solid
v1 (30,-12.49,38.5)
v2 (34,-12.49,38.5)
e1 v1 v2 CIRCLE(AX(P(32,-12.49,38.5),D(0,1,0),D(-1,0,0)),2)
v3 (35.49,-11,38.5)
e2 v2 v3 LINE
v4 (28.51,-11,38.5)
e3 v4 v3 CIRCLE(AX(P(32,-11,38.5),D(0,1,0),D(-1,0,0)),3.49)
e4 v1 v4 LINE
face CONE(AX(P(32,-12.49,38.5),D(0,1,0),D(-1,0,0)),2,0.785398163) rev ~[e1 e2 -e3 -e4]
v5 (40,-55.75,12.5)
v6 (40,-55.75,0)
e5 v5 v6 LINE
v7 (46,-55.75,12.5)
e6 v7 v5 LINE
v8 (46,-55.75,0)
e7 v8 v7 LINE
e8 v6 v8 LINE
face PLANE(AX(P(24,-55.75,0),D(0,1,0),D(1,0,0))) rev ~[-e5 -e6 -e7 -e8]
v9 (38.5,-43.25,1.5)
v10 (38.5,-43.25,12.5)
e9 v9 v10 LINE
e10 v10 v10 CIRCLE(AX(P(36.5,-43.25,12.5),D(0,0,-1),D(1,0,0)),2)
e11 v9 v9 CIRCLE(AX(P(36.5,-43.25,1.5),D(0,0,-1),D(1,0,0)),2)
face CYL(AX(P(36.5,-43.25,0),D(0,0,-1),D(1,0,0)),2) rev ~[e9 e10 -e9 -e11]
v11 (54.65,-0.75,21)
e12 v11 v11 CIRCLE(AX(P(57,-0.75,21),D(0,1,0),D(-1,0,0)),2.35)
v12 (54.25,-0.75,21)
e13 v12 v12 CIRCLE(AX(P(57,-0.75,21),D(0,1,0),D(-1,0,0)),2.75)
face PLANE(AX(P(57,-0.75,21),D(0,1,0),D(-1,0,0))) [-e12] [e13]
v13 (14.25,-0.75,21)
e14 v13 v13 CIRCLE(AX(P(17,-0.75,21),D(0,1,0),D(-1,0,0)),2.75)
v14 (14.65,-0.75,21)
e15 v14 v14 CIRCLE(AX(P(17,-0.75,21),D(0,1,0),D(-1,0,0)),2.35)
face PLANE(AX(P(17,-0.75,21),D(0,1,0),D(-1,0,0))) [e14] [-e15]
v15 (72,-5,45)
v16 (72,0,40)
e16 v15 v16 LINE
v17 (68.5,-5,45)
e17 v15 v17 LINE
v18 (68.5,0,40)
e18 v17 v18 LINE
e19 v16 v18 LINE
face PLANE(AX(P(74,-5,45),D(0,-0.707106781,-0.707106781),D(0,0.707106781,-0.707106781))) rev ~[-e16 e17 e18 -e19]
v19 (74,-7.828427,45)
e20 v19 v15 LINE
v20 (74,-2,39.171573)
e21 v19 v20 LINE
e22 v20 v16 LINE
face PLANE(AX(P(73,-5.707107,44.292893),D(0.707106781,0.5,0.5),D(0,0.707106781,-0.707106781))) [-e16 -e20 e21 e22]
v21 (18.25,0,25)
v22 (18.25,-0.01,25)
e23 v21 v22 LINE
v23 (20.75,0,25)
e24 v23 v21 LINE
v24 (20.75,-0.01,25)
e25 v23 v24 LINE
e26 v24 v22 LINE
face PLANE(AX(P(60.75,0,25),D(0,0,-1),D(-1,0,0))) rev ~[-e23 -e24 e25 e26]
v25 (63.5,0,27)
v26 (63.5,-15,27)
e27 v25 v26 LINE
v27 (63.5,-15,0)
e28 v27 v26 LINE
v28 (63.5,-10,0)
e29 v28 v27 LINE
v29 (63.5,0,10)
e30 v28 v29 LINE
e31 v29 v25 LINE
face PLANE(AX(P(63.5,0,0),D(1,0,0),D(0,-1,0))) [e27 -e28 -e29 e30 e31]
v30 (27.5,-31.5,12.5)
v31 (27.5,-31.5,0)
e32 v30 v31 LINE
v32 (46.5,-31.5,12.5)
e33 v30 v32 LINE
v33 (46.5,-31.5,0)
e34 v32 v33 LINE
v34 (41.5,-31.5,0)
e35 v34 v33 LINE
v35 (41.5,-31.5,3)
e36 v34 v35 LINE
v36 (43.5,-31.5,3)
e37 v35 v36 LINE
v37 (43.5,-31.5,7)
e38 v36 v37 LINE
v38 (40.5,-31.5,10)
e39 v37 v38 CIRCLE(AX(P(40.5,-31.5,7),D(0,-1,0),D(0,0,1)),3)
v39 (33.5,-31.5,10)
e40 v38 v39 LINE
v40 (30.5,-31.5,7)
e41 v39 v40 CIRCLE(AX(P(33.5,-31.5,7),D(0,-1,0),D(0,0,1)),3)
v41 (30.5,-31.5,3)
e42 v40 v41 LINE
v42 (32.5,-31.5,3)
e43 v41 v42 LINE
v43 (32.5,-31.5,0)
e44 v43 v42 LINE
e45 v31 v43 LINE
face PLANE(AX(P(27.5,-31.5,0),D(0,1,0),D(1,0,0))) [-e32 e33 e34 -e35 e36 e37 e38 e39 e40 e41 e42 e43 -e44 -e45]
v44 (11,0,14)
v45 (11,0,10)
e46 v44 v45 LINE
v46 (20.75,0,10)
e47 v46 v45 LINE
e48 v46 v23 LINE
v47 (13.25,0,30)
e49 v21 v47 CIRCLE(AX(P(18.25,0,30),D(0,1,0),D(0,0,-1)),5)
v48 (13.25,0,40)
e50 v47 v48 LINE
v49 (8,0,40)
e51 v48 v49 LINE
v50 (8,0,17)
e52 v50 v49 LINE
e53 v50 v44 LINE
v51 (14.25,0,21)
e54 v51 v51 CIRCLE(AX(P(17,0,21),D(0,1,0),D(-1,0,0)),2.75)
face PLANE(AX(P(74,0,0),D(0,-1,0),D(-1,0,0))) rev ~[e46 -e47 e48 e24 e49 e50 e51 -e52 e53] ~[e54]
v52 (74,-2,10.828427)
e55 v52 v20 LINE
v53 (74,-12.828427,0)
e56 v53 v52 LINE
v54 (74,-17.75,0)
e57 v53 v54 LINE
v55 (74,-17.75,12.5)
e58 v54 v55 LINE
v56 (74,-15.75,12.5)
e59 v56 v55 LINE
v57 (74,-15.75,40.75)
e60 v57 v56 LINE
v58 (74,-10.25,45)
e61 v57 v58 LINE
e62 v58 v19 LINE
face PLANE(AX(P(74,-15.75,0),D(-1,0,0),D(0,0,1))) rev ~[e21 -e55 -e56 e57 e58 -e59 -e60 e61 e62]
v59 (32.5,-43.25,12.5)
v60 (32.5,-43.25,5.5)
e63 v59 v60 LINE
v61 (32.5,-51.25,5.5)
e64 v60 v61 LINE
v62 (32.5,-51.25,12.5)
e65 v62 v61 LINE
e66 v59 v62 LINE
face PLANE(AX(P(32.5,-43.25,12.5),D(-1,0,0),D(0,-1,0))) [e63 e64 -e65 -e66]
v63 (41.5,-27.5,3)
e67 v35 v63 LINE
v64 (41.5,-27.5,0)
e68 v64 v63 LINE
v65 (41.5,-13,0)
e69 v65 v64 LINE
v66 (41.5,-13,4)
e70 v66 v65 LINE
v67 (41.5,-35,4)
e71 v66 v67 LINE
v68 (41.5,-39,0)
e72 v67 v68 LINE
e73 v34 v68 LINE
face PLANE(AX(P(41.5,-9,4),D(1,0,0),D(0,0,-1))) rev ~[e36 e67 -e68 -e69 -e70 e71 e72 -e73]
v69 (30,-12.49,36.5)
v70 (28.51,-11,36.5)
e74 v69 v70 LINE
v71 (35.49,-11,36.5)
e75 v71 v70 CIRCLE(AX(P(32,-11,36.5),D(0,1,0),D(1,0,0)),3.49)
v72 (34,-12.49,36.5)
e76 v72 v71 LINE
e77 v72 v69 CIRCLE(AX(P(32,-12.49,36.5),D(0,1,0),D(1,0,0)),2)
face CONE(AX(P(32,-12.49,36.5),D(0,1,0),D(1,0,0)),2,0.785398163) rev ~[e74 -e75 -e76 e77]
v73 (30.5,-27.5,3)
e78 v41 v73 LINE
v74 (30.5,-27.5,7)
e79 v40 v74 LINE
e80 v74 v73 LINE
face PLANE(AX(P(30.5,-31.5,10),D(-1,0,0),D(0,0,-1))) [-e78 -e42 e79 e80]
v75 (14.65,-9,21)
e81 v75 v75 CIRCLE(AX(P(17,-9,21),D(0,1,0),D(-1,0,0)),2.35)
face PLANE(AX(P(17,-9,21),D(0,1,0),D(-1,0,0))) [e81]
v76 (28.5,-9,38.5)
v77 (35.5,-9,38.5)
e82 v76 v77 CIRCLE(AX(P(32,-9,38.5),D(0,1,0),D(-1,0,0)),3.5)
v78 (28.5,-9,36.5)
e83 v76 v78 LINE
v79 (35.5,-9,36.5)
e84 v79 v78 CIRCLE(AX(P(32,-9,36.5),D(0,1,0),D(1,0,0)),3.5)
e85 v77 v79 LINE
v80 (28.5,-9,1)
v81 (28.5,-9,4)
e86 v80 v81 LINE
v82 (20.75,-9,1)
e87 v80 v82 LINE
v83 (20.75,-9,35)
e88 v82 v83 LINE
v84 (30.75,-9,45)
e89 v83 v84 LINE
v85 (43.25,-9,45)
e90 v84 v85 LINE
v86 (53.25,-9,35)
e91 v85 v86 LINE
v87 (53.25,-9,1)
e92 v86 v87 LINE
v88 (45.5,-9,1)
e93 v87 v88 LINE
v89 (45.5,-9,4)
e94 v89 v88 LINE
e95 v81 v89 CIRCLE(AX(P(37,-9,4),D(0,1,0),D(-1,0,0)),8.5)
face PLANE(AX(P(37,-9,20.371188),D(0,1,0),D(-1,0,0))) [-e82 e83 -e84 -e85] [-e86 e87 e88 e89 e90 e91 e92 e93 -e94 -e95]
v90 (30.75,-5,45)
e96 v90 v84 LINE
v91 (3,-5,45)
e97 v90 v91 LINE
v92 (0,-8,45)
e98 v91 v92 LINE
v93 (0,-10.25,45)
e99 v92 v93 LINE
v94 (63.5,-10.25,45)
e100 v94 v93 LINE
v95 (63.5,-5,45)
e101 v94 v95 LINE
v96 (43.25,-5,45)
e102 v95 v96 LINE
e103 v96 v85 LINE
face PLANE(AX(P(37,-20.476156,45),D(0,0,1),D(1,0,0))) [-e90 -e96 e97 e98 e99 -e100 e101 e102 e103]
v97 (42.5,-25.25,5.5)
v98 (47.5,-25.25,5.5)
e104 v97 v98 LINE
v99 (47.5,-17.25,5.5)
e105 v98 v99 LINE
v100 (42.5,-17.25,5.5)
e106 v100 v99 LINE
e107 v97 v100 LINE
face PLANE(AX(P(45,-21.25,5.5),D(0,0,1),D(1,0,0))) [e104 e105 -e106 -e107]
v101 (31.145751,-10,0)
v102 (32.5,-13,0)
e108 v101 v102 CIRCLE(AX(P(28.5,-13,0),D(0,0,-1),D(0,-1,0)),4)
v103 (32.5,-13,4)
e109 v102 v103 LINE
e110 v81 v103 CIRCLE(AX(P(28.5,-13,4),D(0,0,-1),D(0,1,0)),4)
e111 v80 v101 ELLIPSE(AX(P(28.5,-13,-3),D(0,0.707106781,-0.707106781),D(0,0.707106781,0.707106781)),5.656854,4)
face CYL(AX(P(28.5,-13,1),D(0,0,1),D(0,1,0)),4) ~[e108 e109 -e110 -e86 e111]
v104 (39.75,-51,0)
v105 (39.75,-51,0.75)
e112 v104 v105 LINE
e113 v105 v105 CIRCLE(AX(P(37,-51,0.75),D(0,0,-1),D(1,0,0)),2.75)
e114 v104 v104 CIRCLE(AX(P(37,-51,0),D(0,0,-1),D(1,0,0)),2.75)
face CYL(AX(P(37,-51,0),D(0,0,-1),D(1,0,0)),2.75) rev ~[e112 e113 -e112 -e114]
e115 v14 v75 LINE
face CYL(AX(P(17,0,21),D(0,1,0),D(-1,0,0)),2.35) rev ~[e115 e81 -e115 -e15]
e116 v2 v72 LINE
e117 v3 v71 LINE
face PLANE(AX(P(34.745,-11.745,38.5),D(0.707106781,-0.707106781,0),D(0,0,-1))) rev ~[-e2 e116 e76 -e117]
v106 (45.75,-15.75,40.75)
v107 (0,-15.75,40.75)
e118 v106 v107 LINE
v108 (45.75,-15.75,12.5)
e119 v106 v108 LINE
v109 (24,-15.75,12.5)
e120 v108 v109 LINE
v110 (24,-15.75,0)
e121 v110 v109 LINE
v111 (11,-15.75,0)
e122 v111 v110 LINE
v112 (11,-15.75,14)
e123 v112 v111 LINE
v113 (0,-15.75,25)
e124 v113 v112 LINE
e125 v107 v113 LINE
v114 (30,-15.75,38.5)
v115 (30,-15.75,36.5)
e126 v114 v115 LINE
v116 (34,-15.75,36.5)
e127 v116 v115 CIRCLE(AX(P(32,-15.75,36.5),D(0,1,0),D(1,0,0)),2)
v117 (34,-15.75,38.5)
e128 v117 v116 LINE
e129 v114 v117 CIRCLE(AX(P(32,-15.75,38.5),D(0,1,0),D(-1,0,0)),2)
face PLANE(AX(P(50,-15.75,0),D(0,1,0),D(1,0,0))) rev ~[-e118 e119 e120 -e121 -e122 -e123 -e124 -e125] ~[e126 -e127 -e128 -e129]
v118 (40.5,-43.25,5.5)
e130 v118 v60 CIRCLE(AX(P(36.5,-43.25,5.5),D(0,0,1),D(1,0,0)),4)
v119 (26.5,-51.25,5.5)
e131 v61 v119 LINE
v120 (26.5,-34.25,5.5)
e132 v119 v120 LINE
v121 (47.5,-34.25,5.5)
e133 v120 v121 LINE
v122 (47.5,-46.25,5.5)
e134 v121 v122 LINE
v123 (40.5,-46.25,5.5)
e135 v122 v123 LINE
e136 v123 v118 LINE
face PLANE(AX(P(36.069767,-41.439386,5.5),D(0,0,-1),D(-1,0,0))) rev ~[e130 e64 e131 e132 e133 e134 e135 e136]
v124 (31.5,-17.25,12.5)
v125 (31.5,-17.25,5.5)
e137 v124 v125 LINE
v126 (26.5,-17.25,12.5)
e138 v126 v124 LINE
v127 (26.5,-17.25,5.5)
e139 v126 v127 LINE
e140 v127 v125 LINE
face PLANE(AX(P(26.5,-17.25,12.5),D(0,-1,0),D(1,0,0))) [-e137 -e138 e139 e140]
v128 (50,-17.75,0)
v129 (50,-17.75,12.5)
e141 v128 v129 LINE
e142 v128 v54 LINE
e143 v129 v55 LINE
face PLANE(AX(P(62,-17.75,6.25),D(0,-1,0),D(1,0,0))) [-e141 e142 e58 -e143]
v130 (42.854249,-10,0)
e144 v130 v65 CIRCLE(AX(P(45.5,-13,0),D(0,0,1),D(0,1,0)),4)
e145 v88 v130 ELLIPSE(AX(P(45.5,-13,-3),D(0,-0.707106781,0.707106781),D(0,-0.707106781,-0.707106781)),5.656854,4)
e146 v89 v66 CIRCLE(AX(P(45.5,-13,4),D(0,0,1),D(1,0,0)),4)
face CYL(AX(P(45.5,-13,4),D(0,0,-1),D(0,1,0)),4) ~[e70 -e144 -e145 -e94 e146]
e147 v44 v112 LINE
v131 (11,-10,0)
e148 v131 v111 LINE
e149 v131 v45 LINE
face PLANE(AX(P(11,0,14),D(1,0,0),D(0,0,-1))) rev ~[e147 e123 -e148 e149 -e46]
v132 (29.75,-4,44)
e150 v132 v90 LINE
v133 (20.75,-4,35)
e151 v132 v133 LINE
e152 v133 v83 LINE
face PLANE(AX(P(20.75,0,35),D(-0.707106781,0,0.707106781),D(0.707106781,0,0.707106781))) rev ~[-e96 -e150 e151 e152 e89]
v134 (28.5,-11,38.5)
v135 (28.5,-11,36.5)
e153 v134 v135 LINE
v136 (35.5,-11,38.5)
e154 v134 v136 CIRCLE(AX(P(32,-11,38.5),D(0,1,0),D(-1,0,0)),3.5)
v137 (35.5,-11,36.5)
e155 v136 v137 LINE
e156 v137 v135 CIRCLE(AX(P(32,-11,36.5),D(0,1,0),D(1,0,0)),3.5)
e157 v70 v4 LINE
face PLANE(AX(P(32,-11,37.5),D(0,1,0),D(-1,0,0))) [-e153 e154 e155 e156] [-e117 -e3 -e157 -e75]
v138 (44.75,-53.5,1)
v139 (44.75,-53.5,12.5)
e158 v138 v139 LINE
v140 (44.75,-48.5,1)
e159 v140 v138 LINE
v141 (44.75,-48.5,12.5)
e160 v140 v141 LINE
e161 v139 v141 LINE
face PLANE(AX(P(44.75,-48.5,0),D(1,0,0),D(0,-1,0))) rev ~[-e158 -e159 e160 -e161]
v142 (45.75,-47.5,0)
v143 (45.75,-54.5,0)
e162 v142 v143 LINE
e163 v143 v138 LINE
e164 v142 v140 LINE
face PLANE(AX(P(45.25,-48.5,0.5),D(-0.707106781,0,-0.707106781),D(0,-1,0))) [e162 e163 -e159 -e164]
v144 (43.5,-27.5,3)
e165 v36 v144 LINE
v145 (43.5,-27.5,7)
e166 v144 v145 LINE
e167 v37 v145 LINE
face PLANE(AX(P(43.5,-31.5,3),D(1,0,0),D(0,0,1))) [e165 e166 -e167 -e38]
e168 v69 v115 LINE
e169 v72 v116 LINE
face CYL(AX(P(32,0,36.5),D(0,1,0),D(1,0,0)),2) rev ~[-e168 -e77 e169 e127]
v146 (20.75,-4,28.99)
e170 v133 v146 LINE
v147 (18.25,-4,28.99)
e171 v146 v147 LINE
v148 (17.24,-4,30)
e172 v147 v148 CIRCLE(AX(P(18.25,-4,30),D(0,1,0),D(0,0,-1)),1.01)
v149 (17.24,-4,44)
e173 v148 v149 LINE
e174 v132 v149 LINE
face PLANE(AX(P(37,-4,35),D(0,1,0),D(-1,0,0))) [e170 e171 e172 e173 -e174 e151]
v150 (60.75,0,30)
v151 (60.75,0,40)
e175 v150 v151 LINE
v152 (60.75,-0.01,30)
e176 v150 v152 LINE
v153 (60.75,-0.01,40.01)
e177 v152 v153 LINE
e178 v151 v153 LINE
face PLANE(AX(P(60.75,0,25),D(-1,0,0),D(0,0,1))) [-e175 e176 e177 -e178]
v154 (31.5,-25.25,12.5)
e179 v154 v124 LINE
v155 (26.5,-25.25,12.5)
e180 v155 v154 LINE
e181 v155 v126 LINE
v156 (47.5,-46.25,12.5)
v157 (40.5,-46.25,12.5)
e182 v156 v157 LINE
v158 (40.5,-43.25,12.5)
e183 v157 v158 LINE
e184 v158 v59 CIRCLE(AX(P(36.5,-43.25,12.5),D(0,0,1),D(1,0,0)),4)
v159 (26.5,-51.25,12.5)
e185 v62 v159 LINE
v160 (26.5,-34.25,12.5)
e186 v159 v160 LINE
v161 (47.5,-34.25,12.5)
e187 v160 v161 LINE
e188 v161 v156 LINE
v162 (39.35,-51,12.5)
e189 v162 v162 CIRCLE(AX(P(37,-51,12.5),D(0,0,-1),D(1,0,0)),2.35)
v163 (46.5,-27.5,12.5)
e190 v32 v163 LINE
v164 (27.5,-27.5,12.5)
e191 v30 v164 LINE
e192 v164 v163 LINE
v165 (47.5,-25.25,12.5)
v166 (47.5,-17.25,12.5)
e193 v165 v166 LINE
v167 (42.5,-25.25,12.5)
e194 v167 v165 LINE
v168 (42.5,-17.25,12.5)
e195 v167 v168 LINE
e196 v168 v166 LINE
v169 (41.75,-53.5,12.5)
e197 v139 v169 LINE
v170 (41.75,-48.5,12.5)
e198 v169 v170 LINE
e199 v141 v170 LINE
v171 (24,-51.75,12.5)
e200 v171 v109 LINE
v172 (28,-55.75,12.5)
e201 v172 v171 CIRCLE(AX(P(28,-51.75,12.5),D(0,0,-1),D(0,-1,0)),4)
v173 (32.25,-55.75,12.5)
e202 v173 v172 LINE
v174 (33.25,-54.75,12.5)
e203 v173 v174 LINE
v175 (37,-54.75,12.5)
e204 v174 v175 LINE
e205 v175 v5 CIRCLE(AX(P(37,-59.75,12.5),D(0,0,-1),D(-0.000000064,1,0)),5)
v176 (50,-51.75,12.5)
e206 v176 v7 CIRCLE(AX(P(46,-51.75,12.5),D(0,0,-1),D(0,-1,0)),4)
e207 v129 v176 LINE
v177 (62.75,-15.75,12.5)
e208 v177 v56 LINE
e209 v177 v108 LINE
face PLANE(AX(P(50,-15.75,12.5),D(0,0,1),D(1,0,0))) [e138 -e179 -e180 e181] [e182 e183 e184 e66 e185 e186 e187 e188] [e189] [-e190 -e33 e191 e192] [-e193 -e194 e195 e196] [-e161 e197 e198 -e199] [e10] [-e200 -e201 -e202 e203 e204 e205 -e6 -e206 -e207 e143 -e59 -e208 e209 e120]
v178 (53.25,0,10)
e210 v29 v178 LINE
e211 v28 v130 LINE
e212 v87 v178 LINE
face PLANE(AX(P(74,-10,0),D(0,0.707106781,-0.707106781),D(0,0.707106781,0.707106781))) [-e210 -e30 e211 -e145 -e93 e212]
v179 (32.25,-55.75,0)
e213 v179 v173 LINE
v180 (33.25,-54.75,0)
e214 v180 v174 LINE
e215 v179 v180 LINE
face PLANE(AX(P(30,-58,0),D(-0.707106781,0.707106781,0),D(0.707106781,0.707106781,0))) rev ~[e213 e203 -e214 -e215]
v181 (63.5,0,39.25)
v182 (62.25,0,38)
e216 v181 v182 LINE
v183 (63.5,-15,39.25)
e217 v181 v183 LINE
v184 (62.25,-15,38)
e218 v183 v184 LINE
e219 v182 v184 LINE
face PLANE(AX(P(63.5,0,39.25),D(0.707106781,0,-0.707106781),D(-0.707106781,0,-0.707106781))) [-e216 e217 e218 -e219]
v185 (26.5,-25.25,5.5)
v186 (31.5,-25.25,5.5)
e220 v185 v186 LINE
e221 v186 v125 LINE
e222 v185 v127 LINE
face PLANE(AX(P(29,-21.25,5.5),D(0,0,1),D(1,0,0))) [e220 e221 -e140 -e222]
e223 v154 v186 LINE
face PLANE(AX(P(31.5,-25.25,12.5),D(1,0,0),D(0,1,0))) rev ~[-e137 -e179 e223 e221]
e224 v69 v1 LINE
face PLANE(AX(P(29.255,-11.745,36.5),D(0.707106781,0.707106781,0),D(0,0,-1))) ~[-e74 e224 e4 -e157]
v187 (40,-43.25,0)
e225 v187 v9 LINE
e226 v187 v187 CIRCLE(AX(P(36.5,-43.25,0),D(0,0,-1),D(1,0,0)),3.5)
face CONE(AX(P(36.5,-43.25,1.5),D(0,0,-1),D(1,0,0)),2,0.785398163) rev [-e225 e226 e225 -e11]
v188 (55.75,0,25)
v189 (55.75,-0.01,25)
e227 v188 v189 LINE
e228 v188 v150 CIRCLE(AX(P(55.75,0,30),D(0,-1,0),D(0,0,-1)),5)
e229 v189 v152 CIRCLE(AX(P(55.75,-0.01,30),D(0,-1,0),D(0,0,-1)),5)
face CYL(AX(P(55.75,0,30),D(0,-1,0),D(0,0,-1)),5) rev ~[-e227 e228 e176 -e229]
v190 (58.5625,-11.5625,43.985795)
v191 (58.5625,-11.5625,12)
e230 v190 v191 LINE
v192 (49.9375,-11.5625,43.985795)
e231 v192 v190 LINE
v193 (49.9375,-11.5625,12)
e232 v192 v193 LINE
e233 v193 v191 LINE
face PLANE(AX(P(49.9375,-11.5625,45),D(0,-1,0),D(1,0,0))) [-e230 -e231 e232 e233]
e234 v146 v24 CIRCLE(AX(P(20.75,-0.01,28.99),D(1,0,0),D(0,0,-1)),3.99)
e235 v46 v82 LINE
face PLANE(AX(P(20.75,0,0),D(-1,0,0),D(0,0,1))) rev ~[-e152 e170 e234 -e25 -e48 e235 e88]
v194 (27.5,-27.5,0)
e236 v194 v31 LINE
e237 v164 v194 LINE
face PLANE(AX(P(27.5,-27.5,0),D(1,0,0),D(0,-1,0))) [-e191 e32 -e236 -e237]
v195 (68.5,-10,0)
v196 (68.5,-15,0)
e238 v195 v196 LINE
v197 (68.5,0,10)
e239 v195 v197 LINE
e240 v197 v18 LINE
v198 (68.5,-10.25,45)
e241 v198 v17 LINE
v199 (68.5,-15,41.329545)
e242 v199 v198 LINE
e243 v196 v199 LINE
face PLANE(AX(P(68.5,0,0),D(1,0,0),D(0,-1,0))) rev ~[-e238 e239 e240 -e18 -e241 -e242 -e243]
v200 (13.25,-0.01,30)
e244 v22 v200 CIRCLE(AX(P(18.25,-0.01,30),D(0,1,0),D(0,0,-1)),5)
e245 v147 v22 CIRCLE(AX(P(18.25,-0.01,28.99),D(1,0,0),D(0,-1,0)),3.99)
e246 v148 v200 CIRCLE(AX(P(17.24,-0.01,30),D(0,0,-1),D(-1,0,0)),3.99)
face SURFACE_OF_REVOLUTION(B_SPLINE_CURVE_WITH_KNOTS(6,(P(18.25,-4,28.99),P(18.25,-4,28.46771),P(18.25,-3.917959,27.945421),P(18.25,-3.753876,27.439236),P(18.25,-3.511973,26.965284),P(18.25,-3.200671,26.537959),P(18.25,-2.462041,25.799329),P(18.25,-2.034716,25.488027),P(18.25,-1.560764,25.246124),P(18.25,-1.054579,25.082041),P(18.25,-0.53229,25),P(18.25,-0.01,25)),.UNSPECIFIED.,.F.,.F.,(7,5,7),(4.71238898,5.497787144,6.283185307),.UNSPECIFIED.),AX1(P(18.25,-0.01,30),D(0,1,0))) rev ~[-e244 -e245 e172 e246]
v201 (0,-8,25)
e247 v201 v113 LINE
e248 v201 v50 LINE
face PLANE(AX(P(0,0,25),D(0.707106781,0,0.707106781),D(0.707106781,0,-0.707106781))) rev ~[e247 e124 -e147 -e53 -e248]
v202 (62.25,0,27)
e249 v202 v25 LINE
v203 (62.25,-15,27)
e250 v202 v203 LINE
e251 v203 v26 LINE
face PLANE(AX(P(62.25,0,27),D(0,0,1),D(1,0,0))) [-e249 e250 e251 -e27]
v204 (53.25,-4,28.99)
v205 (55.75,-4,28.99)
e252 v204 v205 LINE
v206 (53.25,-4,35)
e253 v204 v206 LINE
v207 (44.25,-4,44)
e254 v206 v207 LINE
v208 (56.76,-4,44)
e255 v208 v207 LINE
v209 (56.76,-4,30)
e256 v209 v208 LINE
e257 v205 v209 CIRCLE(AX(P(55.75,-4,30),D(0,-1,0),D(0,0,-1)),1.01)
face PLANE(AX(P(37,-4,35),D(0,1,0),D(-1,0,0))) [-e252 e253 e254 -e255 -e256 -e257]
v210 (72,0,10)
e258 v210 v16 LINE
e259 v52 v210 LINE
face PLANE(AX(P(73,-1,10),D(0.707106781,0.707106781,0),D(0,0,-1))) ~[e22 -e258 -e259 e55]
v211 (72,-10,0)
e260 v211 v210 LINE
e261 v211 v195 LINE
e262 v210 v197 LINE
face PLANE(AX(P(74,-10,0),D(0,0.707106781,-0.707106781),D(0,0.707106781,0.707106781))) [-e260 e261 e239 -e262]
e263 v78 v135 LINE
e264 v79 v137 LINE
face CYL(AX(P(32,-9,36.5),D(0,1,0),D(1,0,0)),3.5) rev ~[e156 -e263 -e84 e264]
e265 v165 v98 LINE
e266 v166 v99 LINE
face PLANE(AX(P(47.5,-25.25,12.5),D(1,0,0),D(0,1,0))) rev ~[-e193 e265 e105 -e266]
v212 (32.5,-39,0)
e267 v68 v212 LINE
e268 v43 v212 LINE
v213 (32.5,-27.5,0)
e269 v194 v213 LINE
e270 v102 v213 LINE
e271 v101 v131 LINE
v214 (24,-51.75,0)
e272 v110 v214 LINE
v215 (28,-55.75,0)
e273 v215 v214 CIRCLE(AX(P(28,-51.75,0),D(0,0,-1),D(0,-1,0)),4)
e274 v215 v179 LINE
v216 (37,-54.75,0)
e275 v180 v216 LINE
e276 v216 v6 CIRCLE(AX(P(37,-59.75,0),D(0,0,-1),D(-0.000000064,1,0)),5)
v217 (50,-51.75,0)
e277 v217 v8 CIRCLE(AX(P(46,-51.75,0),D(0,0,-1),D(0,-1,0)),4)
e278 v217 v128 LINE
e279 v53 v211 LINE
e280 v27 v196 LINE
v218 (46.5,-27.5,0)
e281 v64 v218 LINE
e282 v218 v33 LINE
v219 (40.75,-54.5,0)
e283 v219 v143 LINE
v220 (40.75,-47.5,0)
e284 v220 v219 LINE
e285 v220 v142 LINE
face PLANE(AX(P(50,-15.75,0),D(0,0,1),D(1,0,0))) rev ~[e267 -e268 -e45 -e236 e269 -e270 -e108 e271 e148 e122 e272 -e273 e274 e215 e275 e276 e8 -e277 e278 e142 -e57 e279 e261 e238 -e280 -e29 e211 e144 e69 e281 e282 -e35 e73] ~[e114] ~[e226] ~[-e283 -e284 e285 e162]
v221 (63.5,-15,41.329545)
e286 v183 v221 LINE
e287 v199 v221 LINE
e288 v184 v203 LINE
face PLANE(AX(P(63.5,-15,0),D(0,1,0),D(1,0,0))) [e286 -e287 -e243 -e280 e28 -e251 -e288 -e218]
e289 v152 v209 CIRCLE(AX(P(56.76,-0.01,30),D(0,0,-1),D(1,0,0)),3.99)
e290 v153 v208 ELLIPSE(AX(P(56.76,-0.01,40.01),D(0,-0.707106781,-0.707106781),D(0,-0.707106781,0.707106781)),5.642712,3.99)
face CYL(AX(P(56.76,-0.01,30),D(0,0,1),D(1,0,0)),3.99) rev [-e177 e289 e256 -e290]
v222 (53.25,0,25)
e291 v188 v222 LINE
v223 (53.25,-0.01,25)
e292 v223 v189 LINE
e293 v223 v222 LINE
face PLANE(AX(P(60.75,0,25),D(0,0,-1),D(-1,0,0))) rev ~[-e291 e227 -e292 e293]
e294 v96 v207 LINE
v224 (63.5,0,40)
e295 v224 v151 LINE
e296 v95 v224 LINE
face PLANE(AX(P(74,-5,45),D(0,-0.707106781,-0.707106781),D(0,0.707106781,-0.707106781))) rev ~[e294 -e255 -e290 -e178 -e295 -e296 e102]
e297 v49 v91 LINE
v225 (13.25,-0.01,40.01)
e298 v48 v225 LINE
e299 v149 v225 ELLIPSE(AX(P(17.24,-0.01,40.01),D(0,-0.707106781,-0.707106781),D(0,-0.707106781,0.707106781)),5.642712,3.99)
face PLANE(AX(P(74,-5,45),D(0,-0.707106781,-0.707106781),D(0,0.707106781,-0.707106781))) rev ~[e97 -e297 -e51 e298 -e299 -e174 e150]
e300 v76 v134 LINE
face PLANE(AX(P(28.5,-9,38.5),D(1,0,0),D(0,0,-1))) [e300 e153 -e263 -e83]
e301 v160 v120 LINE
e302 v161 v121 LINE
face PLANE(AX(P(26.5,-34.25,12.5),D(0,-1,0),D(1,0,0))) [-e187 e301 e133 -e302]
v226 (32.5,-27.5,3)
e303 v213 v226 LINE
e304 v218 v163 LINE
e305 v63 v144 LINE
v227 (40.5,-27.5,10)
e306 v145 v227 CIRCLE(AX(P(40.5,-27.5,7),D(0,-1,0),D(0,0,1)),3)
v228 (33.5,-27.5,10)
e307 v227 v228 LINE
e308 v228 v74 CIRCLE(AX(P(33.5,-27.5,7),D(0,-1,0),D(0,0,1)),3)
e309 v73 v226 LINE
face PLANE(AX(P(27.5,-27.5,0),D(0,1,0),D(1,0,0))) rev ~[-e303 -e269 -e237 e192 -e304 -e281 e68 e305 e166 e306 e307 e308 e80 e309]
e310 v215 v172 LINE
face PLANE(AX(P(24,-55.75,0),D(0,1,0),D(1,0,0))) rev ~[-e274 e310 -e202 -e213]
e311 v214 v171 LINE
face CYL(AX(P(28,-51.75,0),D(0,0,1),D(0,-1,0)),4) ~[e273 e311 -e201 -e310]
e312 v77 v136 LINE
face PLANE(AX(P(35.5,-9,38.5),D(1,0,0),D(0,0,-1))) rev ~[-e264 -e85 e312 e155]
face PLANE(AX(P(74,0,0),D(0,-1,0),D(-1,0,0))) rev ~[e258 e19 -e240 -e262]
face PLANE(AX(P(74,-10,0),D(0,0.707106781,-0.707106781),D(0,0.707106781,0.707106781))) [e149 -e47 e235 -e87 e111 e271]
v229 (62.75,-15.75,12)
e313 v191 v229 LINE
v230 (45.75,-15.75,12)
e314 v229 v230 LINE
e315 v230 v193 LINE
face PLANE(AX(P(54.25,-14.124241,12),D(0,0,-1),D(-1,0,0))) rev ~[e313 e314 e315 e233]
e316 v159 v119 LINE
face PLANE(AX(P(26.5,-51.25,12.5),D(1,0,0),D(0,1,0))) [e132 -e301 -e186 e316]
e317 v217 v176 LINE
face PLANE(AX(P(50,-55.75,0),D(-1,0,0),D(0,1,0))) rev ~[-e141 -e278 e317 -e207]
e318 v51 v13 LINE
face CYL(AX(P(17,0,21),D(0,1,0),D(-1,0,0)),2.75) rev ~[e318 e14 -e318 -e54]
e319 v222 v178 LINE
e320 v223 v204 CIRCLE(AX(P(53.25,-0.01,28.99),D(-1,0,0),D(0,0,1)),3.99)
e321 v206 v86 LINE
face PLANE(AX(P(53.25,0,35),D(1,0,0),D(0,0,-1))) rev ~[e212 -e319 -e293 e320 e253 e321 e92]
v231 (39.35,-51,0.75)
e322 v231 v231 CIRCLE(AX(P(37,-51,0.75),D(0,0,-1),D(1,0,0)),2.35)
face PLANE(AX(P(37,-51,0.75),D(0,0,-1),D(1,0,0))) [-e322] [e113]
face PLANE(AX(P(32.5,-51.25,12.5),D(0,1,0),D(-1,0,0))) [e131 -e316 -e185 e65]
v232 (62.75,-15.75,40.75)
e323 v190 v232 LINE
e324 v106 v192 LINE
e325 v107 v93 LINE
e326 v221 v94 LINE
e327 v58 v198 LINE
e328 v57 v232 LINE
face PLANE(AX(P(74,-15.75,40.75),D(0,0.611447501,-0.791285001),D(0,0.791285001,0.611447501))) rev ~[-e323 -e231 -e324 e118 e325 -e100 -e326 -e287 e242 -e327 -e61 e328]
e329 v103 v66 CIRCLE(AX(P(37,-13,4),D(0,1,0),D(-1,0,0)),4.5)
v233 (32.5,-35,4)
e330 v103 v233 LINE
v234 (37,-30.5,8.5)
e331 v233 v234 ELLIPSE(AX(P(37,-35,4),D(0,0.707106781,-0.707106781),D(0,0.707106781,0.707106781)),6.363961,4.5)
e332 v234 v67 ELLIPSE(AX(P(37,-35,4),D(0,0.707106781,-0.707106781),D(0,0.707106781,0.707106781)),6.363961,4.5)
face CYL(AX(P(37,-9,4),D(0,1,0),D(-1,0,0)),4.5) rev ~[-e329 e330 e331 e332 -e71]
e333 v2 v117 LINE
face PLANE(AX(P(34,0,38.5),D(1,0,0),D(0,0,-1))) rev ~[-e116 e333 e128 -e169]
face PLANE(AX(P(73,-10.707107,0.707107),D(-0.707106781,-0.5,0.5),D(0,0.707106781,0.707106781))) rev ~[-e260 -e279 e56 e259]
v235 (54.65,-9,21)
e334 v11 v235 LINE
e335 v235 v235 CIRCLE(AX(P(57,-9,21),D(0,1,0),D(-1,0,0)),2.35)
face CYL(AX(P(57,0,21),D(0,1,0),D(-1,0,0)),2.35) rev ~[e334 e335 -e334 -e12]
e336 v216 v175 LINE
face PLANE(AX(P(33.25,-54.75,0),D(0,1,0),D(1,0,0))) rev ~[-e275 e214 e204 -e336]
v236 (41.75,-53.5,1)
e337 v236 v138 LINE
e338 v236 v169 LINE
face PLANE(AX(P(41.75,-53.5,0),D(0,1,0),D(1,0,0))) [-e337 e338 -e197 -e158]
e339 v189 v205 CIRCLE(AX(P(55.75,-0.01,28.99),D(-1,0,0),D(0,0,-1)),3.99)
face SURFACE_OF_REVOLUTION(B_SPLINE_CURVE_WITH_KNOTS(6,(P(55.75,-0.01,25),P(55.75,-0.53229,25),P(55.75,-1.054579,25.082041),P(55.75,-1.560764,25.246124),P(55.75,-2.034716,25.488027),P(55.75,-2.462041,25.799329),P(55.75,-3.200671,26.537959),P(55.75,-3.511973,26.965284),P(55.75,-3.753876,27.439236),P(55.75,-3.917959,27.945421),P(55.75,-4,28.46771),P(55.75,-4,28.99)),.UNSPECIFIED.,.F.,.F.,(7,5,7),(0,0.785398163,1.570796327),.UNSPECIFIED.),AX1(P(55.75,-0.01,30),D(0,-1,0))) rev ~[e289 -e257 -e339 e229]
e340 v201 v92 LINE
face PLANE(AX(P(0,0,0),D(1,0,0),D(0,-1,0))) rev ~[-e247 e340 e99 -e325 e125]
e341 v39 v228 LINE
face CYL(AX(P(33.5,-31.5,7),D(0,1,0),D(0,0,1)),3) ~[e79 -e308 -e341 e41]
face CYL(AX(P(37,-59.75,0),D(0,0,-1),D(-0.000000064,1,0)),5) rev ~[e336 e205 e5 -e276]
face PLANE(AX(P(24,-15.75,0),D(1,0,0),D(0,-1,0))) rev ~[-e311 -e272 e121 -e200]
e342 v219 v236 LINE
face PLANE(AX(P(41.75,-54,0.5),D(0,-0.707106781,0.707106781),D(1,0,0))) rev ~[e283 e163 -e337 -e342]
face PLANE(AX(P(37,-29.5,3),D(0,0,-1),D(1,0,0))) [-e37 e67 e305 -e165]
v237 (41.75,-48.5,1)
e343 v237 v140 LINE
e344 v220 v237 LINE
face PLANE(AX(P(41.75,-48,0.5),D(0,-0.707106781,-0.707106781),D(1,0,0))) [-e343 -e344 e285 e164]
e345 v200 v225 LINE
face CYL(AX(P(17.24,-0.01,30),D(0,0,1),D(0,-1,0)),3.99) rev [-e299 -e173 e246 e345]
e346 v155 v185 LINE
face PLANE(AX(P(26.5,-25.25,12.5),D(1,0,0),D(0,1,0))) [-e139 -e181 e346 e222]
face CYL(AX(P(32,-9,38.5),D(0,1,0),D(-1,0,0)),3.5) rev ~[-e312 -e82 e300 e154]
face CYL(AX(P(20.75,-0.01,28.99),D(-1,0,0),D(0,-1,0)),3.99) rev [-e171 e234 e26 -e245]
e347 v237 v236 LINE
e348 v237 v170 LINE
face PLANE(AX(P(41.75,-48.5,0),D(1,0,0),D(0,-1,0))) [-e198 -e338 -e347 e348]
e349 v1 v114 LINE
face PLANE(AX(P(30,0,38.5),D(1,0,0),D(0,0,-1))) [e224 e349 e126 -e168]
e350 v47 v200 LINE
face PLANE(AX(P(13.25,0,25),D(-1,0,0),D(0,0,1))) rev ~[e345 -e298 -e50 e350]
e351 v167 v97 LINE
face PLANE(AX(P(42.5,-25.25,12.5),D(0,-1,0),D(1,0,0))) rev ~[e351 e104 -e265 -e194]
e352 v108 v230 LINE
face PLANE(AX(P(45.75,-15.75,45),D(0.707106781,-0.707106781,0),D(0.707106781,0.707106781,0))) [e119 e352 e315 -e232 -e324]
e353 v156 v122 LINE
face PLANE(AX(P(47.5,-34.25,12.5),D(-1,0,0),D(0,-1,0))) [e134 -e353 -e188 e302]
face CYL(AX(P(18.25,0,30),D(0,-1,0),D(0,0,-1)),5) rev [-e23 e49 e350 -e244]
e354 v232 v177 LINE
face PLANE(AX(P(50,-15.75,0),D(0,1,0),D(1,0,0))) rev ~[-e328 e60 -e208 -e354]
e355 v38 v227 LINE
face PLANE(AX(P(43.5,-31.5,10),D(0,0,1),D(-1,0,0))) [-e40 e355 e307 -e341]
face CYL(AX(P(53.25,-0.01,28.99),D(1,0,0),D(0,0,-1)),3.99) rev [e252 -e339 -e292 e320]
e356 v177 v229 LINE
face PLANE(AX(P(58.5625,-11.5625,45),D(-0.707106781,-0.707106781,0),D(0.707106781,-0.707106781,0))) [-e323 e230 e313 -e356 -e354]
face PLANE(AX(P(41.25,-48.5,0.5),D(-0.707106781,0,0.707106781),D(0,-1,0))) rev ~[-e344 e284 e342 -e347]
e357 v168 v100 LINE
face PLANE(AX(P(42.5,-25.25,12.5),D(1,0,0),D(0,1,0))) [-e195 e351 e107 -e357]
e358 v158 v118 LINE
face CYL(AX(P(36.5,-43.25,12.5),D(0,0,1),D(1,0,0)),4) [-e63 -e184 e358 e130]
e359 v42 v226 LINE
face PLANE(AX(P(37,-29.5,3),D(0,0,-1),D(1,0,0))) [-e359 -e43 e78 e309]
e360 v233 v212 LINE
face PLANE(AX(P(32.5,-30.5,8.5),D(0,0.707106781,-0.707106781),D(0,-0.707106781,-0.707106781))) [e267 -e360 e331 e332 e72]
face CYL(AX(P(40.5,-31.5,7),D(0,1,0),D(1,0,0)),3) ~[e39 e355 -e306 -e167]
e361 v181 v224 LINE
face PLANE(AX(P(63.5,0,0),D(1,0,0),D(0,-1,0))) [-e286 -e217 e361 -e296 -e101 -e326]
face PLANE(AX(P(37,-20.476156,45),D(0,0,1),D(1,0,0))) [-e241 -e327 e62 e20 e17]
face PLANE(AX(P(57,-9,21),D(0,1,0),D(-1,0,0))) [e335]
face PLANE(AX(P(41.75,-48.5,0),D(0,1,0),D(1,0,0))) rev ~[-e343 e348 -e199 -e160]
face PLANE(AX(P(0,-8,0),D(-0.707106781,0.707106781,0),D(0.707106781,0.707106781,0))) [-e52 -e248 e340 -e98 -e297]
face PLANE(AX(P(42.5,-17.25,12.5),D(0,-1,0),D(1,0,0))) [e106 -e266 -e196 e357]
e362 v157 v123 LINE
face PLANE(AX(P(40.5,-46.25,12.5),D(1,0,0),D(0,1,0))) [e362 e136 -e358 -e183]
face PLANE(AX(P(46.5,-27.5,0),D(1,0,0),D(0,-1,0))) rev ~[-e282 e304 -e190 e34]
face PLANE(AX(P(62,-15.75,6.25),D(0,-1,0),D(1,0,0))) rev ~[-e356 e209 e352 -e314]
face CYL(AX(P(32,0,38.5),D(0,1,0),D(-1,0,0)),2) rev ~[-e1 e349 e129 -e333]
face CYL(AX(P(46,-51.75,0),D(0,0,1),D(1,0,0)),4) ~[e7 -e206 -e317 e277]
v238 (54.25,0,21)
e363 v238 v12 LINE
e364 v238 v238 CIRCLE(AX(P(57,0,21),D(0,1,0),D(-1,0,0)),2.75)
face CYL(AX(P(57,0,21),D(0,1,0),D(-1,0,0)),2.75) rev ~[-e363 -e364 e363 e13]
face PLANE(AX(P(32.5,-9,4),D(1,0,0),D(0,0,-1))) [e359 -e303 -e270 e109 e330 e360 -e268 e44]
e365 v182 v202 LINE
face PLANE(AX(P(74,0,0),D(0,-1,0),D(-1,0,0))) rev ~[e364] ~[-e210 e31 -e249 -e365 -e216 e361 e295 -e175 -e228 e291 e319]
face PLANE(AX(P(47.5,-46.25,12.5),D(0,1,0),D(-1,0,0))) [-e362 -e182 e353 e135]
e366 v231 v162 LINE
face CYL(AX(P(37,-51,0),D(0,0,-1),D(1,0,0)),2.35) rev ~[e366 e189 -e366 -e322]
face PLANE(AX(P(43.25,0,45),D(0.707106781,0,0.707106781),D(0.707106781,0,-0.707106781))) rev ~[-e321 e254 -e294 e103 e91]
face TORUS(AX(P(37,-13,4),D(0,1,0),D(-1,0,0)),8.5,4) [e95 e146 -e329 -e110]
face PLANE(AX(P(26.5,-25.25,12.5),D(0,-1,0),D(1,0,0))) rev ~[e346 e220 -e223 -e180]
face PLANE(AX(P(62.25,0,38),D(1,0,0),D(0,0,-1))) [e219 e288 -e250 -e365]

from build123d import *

# Parameters (mm, degrees)
PAD_DEPTH       = 45
SKETCH001_R     = 2
SKETCH001_R_2   = 2.35
SKETCH001_W     = 3
SKETCH001_H     = 5
SKETCH001_W_2   = 5
SKETCH001_H_2   = 15
POCKET_DEPTH    = 45.001
SKETCH002_W     = 45
SKETCH002_H     = 32.5
POCKET001_DEPTH = 74.001
POCKET002_DEPTH = 33
SKETCH004_R     = 2.35
POCKET003_DEPTH = 9
SKETCH005_W     = 47.5
SKETCH005_H     = 20
POCKET004_DEPTH = 4
POCKET005_DEPTH = 30
SKETCH007_W     = 19
SKETCH007_H     = 4
POCKET006_DEPTH = 3
POCKET007_DEPTH = 4
POCKET008_DEPTH = 55.751
POCKET009_DEPTH = 15
PAD001_DEPTH    = 9
POCKET010_DEPTH = 45.001
SKETCH013_R     = 2.75
POCKET011_DEPTH = 0.75
SKETCH014_R     = 2.75
POCKET012_DEPTH = 0.75
SKETCH015_W     = 24
SKETCH015_H     = 12.5
PAD002_DEPTH    = 2
POCKET013_DEPTH = 74.001
CHAMFER_SIZE    = 2
FILLET_R        = 4
CHAMFER001_SIZE = 1.5
CHAMFER002_SIZE = 1
FILLET001_R     = 3
FILLET002_R     = 5
FILLET003_R     = 3.99
FILLET004_R     = 4
POCKET014_DEPTH = 55.751
POCKET015_DEPTH = 2
CHAMFER003_SIZE = 1.49
SKETCH019_W     = 5
SKETCH019_H     = 8
POCKET016_DEPTH = 7


with BuildPart() as part:
    # Sketch → Pad (new body)
    with BuildSketch(Plane.XY):
        Polygon((74, -15.75), (74, 0), (0, 0), (0, -15.75), (24, -15.75), (24, -55.75), (50, -55.75), (50, -15.75), align=None)
    extrude(amount=PAD_DEPTH)

    # Sketch001 (on Face9 of Pad) → Pocket (cut, through all)
    with BuildSketch(Plane(origin=(0, 0, 0), x_dir=(1, 0, 0), z_dir=(0, 0, -1))):
        with Locations((36.5, 43.25)):
            Circle(SKETCH001_R)
        with Locations((37, 51)):
            Circle(SKETCH001_R_2)
        with Locations((43.25, 51)):
            Rectangle(SKETCH001_W, SKETCH001_H)
        Polygon((0, 8), (8, 0), (0, 0), align=None)
        with Locations((66, 7.5)):
            Rectangle(SKETCH001_W_2, SKETCH001_H_2)
    extrude(amount=-POCKET_DEPTH, mode=Mode.SUBTRACT)

    # Sketch002 (on Face1 of Pocket) → Pocket001 (cut, through all)
    with BuildSketch(Plane.YZ.offset(74)):
        with Locations((-38.25, 28.75)):
            Rectangle(SKETCH002_W, SKETCH002_H)
    extrude(amount=-POCKET001_DEPTH, mode=Mode.SUBTRACT)

    # Sketch003 (on Face4 of Pocket001) → Pocket002 (cut)
    with BuildSketch(Plane.XY.offset(45)):
        Polygon((45.75, -15.75), (49.9375, -11.5625), (58.5625, -11.5625), (62.75, -15.75), align=None)
    extrude(amount=-POCKET002_DEPTH, mode=Mode.SUBTRACT)

    # Sketch004 (on Face15 of Pocket002) → Pocket003 (cut)
    with BuildSketch(Plane(origin=(0, 0, 0), x_dir=(-1, 0, 0), z_dir=(0, 1, 0))):
        with Locations((-57, 21)):
            Circle(SKETCH004_R)
        with Locations((-17, 21)):
            Circle(SKETCH004_R)
        Polygon((-43.25, 45), (-53.25, 35), (-53.25, 0), (-20.75, 0), (-20.75, 35), (-30.75, 45), align=None)
    extrude(amount=-POCKET003_DEPTH, mode=Mode.SUBTRACT)

    # Sketch005 (on Face19 of Pocket003) → Pocket004 (cut)
    with BuildSketch(Plane(origin=(0, 0, 0), x_dir=(-1, 0, 0), z_dir=(0, 1, 0))):
        with Locations((-37, 35)):
            Rectangle(SKETCH005_W, SKETCH005_H)
    extrude(amount=-POCKET004_DEPTH, mode=Mode.SUBTRACT)

    # Sketch006 (on Face17 of Pocket004) → Pocket005 (cut)
    with BuildSketch(Plane(origin=(0, -9, 0), x_dir=(-1, 0, 0), z_dir=(0, 1, 0))):
        with BuildLine():
            ThreePointArc((-32.5, 4), (-37, 8.5), (-41.5, 4))
            Line((-41.5, 4), (-41.5, 0))
            ThreePointArc((-41.5, 0), (-37, -4.5), (-32.5, 0))
            Line((-32.5, 4), (-32.5, 0))
        make_face()
    extrude(amount=-POCKET005_DEPTH, mode=Mode.SUBTRACT)

    # Sketch007 (on Face4 of Pocket005) → Pocket006 (cut)
    with BuildSketch(Plane(origin=(0, 0, 0), x_dir=(1, 0, 0), z_dir=(0, 0, -1))):
        with Locations((37, 29.5)):
            Rectangle(SKETCH007_W, SKETCH007_H)
    extrude(amount=-POCKET006_DEPTH, mode=Mode.SUBTRACT)

    # Sketch008 (on Face23 of Pocket006) → Pocket007 (cut)
    with BuildSketch(Plane(origin=(0, -31.5, 0), x_dir=(-1, 0, 0), z_dir=(0, 1, 0))):
        Polygon((-43.5, 3), (-43.5, 10), (-30.5, 10), (-30.5, 3), (-27.5, 3), (-27.5, 12.5), (-46.5, 12.5), (-46.5, 3), align=None)
    extrude(amount=POCKET007_DEPTH, mode=Mode.SUBTRACT)

    # Sketch009 (on Face14 of Pocket007) → Pocket008 (cut, through all)
    with BuildSketch(Plane(origin=(0, 0, 0), x_dir=(-1, 0, 0), z_dir=(0, 1, 0))):
        Polygon((0, 25), (-11, 14), (-11, 0), (0, 0), align=None)
    extrude(amount=-POCKET008_DEPTH, mode=Mode.SUBTRACT)

    # Sketch010 (on Face23 of Pocket008) → Pocket009 (cut)
    with BuildSketch(Plane(origin=(0, 0, 0), x_dir=(-1, 0, 0), z_dir=(0, 1, 0))):
        Polygon((-63.5, 39.25), (-62.25, 38), (-62.25, 27), (-63.5, 27), align=None)
    extrude(amount=-POCKET009_DEPTH, mode=Mode.SUBTRACT)

    # Sketch011 (on Face15 of Pocket009) → Pad001 (join)
    with BuildSketch(Plane.YZ.offset(32.5)):
        Polygon((-39, 0), (-39, 8.5), (-30.5, 8.5), align=None)
    extrude(amount=PAD001_DEPTH)

    # Sketch012 (on Face4 of Pad001) → Pocket010 (cut, through all)
    with BuildSketch(Plane(origin=(0, 0, 0), x_dir=(1, 0, 0), z_dir=(0, 0, -1))):
        with BuildLine():
            Line((30, 58), (33.25, 54.75))
            Line((33.25, 54.75), (37, 54.75))
            ThreePointArc((37, 54.75), (40.535534, 56.214466), (42, 59.75))
            Line((30, 59.75), (42, 59.75))
            Line((30, 58), (30, 59.75))
        make_face()
    extrude(amount=-POCKET010_DEPTH, mode=Mode.SUBTRACT)

    # Sketch013 (on Face4 of Pocket010) → Pocket011 (cut)
    with BuildSketch(Plane(origin=(0, 0, 0), x_dir=(1, 0, 0), z_dir=(0, 0, -1))):
        with Locations((37, 51)):
            Circle(SKETCH013_R)
    extrude(amount=-POCKET011_DEPTH, mode=Mode.SUBTRACT)

    # Sketch014 (on Face30 of Pocket011) → Pocket012 (cut)
    with BuildSketch(Plane(origin=(0, 0, 0), x_dir=(-1, 0, 0), z_dir=(0, 1, 0))):
        with Locations((-57, 21)):
            Circle(SKETCH014_R)
        with Locations((-17, 21)):
            Circle(SKETCH014_R)
    extrude(amount=-POCKET012_DEPTH, mode=Mode.SUBTRACT)

    # Sketch015 (on Face2 of Pocket012) → Pad002 (join)
    with BuildSketch(Plane.XZ.offset(15.75)):
        with Locations((62, 6.25)):
            Rectangle(SKETCH015_W, SKETCH015_H)
    extrude(amount=PAD002_DEPTH)

    # Sketch016 (on Face62 of Pad002) → Pocket013 (cut, through all)
    with BuildSketch(Plane.YZ.offset(74)):
        Polygon((-10, 0), (0, 10), (0, 0), align=None)
        Polygon((-5, 45), (0, 40), (0, 45), align=None)
        Polygon((-15.75, 40.75), (-10.25, 45), (-15.75, 45), align=None)
    extrude(amount=-POCKET013_DEPTH, mode=Mode.SUBTRACT)

    # Chamfer
    chamfer_edges = [part.edges().sort_by_distance(p)[0] for p in [
        (74, 0, 25),
        (74, -5, 5),
        (74, -2.5, 42.5),
    ]]
    chamfer(chamfer_edges, length=CHAMFER_SIZE)

    # Fillet
    fillet_edges = [part.edges().sort_by_distance(p)[0] for p in [
        (37, -9, 8.5),
    ]]
    fillet(fillet_edges, radius=FILLET_R)

    # Chamfer001
    chamfer001_edges = [part.edges().sort_by_distance(p)[0] for p in [
        (34.5, -43.25, 0),
    ]]
    chamfer(chamfer001_edges, length=CHAMFER001_SIZE)

    # Chamfer002
    chamfer002_edges = [part.edges().sort_by_distance(p)[0] for p in [
        (41.75, -51, 0),
        (43.25, -53.5, 0),
        (44.75, -51, 0),
        (43.25, -48.5, 0),
    ]]
    chamfer(chamfer002_edges, length=CHAMFER002_SIZE)

    # Fillet001
    fillet001_edges = [part.edges().sort_by_distance(p)[0] for p in [
        (43.5, -29.5, 10),
        (30.5, -29.5, 10),
    ]]
    fillet(fillet001_edges, radius=FILLET001_R)

    # Fillet002
    fillet002_edges = [part.edges().sort_by_distance(p)[0] for p in [
        (13.25, -2, 25),
        (60.75, -2, 25),
    ]]
    fillet(fillet002_edges, radius=FILLET002_R)

    # Fillet003
    fillet003_edges = [part.edges().sort_by_distance(p)[0] for p in [
        (13.25, -4, 37),
        (60.75, -4, 37),
    ]]
    fillet(fillet003_edges, radius=FILLET003_R)

    # Fillet004
    fillet004_edges = [part.edges().sort_by_distance(p)[0] for p in [
        (24, -55.75, 6.25),
        (50, -55.75, 6.25),
    ]]
    fillet(fillet004_edges, radius=FILLET004_R)

    # Sketch017 (on Face56 of Fillet004) → Pocket014 (cut, through all)
    with BuildSketch(Plane(origin=(0, 0, 0), x_dir=(-1, 0, 0), z_dir=(0, 1, 0))):
        with BuildLine():
            ThreePointArc((-30, 38.5), (-32, 40.5), (-34, 38.5))
            Line((-34, 38.5), (-34, 36.5))
            ThreePointArc((-34, 36.5), (-32, 34.5), (-30, 36.5))
            Line((-30, 38.5), (-30, 36.5))
        make_face()
    extrude(amount=-POCKET014_DEPTH, mode=Mode.SUBTRACT)

    # Sketch018 (on Face50 of Pocket014) → Pocket015 (cut)
    with BuildSketch(Plane(origin=(0, -9, 0), x_dir=(-1, 0, 0), z_dir=(0, 1, 0))):
        with BuildLine():
            ThreePointArc((-28.5, 38.5), (-32, 42), (-35.5, 38.5))
            Line((-35.5, 38.5), (-35.5, 36.5))
            ThreePointArc((-35.5, 36.5), (-32, 33), (-28.5, 36.5))
            Line((-28.5, 38.5), (-28.5, 36.5))
        make_face()
    extrude(amount=-POCKET015_DEPTH, mode=Mode.SUBTRACT)

    # Chamfer003
    chamfer003_edges = [part.edges().sort_by_distance(p)[0] for p in [
        (32, -11, 40.5),
    ]]
    chamfer(chamfer003_edges, length=CHAMFER003_SIZE)

    # Sketch019 (on Face10 of Chamfer003) → Pocket016 (cut)
    with BuildSketch(Plane.XY.offset(12.5)):
        with BuildLine():
            Line((26.5, -51.25), (26.5, -34.25))
            Line((26.5, -34.25), (47.5, -34.25))
            Line((47.5, -34.25), (47.5, -46.25))
            Line((47.5, -46.25), (40.5, -46.25))
            Line((40.5, -46.25), (40.5, -43.25))
            ThreePointArc((40.5, -43.25), (36.5, -39.25), (32.5, -43.25))
            Line((32.5, -43.25), (32.5, -51.25))
            Line((32.5, -51.25), (26.5, -51.25))
        make_face()
        with Locations((29, -21.25)):
            Rectangle(SKETCH019_W, SKETCH019_H)
        with Locations((45, -21.25)):
            Rectangle(SKETCH019_W, SKETCH019_H)
    extrude(amount=-POCKET016_DEPTH, mode=Mode.SUBTRACT)


solid = part.part
